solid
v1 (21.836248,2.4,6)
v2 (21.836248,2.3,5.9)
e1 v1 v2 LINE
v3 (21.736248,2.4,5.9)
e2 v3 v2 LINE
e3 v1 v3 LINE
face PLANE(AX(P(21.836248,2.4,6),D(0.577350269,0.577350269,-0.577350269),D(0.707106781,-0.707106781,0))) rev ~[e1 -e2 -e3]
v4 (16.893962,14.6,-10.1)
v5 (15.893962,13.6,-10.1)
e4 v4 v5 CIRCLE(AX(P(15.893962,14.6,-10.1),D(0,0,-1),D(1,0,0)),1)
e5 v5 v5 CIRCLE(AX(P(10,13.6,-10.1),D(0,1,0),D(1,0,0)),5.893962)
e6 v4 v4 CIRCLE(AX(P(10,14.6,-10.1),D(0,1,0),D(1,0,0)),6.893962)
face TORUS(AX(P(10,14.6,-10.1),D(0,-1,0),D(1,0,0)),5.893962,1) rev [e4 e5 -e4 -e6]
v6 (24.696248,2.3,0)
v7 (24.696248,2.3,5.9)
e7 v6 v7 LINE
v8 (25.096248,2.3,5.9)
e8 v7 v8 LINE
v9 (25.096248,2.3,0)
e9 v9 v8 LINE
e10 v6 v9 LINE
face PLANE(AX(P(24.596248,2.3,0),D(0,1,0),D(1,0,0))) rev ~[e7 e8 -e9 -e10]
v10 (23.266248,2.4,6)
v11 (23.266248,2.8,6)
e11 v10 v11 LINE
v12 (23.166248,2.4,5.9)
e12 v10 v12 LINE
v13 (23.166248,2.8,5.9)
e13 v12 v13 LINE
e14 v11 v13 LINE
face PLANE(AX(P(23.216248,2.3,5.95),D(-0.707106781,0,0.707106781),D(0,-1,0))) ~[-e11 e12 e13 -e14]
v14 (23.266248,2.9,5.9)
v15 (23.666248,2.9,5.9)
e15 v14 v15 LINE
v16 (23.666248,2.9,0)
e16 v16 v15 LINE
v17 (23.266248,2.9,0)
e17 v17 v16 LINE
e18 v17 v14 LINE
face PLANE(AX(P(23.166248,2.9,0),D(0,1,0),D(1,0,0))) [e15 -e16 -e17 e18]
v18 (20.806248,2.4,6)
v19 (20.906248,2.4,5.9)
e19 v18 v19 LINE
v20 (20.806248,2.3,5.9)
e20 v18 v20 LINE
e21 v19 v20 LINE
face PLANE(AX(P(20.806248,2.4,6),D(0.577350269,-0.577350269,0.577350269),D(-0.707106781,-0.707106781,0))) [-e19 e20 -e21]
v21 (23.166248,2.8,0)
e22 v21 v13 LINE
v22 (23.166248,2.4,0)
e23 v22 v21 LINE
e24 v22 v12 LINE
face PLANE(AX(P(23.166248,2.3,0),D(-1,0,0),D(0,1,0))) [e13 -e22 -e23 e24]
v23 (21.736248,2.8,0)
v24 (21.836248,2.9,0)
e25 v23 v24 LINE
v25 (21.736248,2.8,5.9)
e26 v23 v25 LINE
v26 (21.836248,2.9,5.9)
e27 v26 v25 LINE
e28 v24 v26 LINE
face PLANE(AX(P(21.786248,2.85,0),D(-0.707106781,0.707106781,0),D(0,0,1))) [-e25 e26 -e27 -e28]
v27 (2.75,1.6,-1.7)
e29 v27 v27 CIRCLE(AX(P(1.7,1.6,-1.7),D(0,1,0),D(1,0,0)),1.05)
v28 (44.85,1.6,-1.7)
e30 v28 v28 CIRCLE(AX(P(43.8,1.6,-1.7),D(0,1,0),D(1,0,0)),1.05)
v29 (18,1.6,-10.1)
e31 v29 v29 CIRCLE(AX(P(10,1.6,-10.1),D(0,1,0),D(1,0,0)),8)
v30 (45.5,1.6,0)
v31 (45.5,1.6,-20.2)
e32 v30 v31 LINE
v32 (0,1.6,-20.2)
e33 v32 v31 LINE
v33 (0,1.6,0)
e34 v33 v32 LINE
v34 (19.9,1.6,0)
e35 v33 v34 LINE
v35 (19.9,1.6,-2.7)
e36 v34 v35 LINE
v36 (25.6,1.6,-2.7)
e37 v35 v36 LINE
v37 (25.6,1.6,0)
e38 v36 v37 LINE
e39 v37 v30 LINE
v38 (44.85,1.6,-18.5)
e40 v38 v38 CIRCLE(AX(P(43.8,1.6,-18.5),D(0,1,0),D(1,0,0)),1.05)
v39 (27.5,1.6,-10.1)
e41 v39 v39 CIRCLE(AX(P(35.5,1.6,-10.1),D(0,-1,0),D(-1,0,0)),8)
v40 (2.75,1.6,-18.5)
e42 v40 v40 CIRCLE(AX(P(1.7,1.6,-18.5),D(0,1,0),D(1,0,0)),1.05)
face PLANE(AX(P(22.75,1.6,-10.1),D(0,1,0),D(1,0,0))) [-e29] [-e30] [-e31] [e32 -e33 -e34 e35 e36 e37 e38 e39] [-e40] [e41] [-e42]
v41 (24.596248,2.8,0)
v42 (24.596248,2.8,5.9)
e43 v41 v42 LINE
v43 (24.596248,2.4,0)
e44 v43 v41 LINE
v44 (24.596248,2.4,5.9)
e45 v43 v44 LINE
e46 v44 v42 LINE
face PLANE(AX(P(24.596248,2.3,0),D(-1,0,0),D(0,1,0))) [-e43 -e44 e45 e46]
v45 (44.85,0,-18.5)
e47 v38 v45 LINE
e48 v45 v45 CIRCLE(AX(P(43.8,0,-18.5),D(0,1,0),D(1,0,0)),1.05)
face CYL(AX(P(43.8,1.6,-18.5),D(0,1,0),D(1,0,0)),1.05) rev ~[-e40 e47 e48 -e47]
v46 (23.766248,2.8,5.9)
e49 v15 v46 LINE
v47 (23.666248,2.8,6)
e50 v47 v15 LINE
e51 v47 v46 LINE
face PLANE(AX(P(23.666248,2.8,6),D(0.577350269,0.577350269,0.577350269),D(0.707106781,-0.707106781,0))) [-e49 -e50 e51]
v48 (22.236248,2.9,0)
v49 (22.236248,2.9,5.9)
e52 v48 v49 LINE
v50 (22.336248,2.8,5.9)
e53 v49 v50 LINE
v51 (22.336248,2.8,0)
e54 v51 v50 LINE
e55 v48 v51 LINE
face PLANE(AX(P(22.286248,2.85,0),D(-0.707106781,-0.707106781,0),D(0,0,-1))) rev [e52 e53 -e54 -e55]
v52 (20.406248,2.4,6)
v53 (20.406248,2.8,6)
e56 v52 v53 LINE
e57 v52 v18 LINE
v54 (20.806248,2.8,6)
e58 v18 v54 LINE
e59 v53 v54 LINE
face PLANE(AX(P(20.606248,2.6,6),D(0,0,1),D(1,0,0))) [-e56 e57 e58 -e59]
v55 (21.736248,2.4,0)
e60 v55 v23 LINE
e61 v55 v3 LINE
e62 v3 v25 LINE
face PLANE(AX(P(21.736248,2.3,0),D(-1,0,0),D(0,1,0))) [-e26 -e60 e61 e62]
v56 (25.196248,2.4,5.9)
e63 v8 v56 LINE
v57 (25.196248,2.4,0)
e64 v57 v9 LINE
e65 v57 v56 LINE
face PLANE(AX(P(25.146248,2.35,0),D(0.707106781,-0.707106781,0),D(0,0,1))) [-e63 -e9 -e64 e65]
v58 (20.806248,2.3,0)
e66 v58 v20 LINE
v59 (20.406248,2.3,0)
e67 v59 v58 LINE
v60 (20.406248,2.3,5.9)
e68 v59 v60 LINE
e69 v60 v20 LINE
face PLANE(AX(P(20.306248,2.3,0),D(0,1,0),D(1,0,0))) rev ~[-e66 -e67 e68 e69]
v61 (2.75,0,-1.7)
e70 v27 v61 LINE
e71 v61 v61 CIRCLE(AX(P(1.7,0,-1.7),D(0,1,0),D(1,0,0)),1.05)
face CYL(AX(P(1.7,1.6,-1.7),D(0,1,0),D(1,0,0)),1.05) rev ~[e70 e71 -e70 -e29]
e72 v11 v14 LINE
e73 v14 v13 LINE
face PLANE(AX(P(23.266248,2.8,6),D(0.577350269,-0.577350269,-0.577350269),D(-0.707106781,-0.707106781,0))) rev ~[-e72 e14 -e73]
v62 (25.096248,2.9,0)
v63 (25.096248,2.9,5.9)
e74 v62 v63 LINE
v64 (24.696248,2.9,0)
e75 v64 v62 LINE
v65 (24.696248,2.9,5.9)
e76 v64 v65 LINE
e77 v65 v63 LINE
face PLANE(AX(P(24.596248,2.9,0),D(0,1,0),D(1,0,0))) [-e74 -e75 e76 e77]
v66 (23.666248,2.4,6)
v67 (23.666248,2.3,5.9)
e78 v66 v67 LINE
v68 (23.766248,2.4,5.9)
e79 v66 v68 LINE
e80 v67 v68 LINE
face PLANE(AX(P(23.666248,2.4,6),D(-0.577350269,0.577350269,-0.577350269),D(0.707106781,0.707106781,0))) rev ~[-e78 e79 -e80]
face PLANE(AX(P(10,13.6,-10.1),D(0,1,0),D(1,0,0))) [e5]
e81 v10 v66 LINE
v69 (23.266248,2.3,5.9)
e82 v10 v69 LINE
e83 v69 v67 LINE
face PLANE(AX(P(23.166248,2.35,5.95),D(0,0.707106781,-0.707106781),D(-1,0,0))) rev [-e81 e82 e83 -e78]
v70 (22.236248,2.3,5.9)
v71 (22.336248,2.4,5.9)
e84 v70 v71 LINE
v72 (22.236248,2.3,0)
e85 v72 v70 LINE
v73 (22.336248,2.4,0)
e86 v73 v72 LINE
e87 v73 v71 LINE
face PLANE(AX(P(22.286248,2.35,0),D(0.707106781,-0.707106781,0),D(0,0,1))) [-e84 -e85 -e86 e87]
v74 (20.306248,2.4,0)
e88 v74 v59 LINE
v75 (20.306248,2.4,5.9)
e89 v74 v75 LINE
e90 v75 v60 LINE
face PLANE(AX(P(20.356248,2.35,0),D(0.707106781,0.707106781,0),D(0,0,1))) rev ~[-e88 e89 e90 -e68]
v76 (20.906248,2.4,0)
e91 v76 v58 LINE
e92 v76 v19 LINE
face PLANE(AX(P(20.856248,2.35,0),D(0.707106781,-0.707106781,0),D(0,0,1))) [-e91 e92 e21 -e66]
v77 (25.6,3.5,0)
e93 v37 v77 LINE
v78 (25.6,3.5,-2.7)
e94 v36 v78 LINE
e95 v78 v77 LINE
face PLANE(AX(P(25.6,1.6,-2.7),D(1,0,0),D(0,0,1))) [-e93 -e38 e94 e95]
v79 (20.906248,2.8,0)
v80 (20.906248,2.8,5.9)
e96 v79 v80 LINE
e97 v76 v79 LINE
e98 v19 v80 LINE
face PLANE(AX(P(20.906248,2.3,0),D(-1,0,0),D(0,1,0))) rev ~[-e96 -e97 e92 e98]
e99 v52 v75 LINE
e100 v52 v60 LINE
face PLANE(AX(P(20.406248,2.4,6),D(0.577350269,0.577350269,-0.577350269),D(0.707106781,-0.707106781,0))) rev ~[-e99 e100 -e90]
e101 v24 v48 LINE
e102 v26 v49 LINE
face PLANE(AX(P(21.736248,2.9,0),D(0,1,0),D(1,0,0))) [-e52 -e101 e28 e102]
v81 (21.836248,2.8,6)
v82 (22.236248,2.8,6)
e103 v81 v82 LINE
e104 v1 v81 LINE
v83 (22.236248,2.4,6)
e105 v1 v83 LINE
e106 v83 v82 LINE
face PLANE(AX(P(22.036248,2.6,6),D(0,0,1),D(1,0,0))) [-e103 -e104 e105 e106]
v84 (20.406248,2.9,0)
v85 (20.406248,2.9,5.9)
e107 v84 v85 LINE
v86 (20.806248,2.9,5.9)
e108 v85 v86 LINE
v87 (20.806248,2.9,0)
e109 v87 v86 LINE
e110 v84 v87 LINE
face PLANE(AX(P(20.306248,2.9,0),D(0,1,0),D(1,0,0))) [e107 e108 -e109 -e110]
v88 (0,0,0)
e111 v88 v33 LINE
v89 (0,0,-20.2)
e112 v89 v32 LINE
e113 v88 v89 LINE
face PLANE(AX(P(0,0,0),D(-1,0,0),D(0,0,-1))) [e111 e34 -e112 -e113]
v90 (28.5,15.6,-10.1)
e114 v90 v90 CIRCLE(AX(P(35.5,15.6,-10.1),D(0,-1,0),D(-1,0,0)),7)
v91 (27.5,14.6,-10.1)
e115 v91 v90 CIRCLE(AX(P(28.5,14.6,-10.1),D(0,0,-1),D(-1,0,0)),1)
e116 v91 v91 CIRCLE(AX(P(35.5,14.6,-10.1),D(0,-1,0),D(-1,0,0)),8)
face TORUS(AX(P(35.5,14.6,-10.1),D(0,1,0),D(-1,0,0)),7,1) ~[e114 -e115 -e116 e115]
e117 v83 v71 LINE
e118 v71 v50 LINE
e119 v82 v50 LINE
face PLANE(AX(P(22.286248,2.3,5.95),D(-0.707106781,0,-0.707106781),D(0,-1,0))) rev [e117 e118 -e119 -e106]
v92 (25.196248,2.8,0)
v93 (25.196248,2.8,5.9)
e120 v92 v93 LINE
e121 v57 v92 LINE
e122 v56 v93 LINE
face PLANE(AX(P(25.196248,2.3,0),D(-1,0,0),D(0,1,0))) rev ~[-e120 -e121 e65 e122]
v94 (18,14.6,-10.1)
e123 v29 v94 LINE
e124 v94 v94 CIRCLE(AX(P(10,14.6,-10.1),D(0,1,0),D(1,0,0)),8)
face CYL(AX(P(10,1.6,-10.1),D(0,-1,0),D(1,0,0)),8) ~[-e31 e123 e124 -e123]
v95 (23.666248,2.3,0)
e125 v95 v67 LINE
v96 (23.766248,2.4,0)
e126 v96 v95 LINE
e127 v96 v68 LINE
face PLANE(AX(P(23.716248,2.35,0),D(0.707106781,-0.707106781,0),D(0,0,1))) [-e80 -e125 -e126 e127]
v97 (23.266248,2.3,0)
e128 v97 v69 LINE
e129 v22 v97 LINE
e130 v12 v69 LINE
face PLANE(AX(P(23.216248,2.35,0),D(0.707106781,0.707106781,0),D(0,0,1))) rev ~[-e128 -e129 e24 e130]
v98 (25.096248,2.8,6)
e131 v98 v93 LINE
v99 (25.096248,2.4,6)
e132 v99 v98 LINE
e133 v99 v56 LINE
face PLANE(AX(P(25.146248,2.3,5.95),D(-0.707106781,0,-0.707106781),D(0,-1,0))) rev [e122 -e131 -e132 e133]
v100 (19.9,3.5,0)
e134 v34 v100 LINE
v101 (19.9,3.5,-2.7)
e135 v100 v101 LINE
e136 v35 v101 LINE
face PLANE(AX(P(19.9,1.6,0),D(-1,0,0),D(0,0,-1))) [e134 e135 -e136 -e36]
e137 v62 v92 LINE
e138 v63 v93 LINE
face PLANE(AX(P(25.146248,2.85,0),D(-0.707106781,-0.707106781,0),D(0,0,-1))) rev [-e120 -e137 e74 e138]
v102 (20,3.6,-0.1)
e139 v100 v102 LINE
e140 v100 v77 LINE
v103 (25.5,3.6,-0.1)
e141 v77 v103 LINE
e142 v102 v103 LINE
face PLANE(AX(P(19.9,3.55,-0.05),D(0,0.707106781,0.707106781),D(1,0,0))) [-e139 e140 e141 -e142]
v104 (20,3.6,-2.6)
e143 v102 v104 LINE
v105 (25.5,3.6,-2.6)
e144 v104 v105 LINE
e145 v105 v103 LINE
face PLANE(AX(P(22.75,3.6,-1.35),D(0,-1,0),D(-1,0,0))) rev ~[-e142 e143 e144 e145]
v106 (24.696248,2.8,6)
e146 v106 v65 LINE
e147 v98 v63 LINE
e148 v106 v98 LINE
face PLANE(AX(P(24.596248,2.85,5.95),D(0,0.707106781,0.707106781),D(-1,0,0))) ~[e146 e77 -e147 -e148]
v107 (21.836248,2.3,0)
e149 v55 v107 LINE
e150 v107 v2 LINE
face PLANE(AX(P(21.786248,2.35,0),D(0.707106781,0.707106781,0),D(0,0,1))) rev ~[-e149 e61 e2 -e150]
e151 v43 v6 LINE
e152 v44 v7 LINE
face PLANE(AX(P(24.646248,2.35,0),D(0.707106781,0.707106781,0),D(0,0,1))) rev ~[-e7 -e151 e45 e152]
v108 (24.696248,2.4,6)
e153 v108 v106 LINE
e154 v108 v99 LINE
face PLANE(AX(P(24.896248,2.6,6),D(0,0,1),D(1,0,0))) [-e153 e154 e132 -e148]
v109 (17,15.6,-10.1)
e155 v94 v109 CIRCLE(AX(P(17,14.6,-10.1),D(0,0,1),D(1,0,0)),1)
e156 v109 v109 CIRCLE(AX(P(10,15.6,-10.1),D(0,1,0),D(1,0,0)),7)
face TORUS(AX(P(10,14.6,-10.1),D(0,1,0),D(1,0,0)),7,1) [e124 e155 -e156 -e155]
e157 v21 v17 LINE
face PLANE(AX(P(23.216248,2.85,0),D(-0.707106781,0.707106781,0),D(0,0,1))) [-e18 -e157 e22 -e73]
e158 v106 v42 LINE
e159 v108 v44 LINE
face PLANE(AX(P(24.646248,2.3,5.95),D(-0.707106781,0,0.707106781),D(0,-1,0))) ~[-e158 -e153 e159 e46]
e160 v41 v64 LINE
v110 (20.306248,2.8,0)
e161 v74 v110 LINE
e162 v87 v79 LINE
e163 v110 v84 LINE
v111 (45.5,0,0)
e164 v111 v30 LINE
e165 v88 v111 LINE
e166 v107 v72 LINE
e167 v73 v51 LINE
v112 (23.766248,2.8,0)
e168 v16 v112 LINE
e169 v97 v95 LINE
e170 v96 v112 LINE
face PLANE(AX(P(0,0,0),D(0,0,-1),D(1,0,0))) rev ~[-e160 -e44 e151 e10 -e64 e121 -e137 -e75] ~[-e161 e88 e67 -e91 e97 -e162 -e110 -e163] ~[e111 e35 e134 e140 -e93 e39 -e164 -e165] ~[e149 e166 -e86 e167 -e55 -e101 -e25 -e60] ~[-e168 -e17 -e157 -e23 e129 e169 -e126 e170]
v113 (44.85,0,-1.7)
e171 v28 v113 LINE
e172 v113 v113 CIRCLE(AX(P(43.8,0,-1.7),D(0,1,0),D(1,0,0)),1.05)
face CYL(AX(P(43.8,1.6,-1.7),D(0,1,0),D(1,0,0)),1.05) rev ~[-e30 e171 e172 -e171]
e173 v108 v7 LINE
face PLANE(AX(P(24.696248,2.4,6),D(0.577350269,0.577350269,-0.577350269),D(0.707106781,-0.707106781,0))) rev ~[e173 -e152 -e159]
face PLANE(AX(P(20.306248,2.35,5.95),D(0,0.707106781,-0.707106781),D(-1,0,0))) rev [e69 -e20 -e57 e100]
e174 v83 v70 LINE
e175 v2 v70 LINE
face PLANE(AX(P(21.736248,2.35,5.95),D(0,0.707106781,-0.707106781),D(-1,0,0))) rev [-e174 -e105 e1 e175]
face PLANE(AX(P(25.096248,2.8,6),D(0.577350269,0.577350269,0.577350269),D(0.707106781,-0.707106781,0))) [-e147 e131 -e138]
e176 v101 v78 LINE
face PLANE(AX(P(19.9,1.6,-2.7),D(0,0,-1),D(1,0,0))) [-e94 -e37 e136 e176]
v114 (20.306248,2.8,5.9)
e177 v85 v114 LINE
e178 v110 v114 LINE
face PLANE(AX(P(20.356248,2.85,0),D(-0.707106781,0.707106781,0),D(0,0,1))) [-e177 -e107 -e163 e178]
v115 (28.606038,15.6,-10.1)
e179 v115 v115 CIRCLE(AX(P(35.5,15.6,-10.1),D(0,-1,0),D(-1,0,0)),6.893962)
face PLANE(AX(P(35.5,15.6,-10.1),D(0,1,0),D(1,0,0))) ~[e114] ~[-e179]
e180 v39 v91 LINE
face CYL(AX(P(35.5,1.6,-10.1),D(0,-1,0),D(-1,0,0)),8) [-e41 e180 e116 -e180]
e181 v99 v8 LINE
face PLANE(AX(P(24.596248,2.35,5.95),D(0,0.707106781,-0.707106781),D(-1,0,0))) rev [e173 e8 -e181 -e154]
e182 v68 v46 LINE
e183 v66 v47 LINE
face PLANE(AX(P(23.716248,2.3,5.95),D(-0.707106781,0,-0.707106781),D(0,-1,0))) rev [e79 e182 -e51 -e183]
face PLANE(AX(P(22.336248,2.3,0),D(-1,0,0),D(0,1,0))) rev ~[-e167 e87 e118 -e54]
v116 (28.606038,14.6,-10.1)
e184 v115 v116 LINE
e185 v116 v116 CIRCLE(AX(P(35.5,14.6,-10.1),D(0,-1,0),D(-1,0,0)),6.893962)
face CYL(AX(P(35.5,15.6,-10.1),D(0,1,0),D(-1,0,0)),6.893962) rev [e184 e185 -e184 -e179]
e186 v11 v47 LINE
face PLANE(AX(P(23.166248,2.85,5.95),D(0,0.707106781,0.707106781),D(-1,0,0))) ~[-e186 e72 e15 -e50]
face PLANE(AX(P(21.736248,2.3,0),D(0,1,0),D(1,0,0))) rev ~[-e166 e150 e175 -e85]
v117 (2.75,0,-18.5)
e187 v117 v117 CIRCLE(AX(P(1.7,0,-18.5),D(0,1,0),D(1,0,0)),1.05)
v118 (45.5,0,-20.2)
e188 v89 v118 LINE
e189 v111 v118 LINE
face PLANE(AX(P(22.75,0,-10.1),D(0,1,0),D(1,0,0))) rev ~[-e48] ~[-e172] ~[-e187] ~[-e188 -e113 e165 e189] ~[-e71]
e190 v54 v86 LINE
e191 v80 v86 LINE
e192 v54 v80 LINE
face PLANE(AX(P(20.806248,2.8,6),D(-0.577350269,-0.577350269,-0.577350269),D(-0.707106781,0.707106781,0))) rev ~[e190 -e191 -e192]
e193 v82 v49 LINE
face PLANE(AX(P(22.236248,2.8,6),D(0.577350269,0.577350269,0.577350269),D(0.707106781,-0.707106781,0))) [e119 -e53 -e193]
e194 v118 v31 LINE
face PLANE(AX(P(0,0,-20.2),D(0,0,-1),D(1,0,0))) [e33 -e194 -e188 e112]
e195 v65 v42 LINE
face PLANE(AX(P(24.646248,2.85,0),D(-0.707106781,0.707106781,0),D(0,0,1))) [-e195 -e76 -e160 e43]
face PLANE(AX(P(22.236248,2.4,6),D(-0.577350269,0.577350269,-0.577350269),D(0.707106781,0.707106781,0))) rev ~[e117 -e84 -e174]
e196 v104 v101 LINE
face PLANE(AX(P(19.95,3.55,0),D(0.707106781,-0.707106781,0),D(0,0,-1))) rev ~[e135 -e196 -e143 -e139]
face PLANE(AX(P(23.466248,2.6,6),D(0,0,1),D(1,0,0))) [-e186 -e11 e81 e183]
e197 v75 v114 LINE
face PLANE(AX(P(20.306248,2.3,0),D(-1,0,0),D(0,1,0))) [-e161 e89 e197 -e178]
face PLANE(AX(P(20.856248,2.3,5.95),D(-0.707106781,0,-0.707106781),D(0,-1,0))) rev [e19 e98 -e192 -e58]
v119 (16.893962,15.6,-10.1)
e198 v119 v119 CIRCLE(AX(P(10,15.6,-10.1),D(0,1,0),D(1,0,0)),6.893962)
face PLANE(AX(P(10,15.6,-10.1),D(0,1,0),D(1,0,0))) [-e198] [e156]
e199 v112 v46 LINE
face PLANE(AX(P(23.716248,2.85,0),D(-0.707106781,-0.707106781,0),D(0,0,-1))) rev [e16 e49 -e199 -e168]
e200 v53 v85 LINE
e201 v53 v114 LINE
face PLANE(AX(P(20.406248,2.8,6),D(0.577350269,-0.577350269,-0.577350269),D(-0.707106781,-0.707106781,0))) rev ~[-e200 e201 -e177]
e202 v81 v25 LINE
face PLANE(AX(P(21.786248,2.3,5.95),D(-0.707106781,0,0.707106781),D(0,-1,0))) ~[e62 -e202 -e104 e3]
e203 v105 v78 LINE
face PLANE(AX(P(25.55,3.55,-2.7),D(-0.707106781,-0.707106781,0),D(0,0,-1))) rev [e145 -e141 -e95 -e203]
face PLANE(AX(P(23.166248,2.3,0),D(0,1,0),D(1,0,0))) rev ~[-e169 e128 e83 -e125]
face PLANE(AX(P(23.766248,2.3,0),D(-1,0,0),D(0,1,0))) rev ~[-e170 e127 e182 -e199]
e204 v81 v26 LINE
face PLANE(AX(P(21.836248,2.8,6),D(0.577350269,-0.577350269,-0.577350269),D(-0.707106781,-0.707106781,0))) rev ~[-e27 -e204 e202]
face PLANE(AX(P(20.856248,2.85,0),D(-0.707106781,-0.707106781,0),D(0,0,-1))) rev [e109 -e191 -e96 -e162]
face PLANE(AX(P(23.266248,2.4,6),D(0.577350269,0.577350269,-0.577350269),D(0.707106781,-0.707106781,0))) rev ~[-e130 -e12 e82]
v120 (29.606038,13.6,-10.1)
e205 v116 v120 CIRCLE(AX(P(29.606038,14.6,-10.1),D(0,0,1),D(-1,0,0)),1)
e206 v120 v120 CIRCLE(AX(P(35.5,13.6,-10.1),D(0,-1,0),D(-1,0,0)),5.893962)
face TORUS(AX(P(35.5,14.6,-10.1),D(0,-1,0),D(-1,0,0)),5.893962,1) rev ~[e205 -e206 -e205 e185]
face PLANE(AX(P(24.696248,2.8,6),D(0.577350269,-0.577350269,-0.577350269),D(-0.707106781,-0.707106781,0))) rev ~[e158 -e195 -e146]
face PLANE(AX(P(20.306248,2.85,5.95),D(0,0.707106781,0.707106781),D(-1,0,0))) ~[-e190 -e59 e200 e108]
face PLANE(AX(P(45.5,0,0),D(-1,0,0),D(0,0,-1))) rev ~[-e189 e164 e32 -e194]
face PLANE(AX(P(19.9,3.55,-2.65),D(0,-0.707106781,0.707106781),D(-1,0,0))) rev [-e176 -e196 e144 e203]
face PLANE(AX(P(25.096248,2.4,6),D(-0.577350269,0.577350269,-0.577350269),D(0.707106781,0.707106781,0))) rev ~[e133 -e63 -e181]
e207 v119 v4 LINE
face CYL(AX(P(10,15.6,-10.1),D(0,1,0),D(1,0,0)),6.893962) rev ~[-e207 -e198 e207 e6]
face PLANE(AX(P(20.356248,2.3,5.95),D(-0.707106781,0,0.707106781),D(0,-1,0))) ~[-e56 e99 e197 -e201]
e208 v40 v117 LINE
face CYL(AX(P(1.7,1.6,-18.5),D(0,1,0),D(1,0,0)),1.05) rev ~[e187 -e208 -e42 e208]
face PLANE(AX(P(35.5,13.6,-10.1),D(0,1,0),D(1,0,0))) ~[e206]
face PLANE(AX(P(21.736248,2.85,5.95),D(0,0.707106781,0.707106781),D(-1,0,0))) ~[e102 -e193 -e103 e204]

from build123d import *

# Parameters (mm, degrees)
SKETCH1_W            = 45.5
SKETCH1_H            = 20.2
BOSS_EXTRUDE1_DEPTH  = 1.6
SKETCH2_R            = 8
BOSS_EXTRUDE2_DEPTH  = 14
SKETCH3_R            = 6.893962295
CUT_EXTRUDE1_DEPTH   = 2
FILLET1_R            = 1
FILLET2_R            = 1
FILLET1_OF_MIRROR1_R = 1
FILLET2_OF_MIRROR1_R = 1
BOSS_EXTRUDE3_DEPTH  = 2
SKETCH5_W            = 0.6
SKETCH5_H            = 0.6
BOSS_EXTRUDE4_DEPTH  = 6
CHAMFER1_SIZE        = 0.1
CHAMFER2_SIZE        = 0.1
CUT_EXTRUDE2_REACH   = 53.714
SKETCH6_R            = 1.05


with BuildPart() as part:
    # Sketch1 → Boss-Extrude1 (new body)
    with BuildSketch(Plane(origin=(0, 0, 0), x_dir=(1, 0, 0), z_dir=(0, 1, 0))):
        with Locations((22.75, 10.1)):
            Rectangle(SKETCH1_W, SKETCH1_H)
    extrude(amount=BOSS_EXTRUDE1_DEPTH)

    # Sketch2 → Boss-Extrude2 (add)
    with BuildSketch(Plane(origin=(0, 1.6, 0), x_dir=(1, 0, 0), z_dir=(0, 1, 0))):
        with Locations((10, 10.1)):
            Circle(SKETCH2_R)
    boss_extrude2 = extrude(amount=BOSS_EXTRUDE2_DEPTH)

    # Sketch3 → Cut-Extrude1 (cut)
    with BuildSketch(Plane(origin=(0, 15.6, 0), x_dir=(1, 0, 0), z_dir=(0, 1, 0))):
        with Locations((10, 10.1)):
            Circle(SKETCH3_R)
    cut_extrude1 = extrude(amount=-CUT_EXTRUDE1_DEPTH, mode=Mode.SUBTRACT)

    # Fillet1
    fillet1_edges = [part.edges().sort_by_distance(p)[0] for p in [
        (2, 15.6, -10.1),
    ]]
    fillet(fillet1_edges, radius=FILLET1_R)

    # Fillet2
    fillet2_edges = [part.edges().sort_by_distance(p)[0] for p in [
        (3.106037705, 13.6, -10.1),
    ]]
    fillet(fillet2_edges, radius=FILLET2_R)

    # Mirror1: Boss-Extrude2, Cut-Extrude1 across plane
    add(boss_extrude2.mirror(Plane(origin=(22.75, 0, 0), x_dir=(0, 0, 1), z_dir=(1, 0, 0))))
    add(cut_extrude1.mirror(Plane(origin=(22.75, 0, 0), x_dir=(0, 0, 1), z_dir=(1, 0, 0))), mode=Mode.SUBTRACT)

    # Fillet1 of Mirror1
    fillet1_of_mirror1_edges = [part.edges().sort_by_distance(p)[0] for p in [
        (43.5, 15.6, -10.1),
    ]]
    fillet(fillet1_of_mirror1_edges, radius=FILLET1_OF_MIRROR1_R)

    # Fillet2 of Mirror1
    fillet2_of_mirror1_edges = [part.edges().sort_by_distance(p)[0] for p in [
        (42.393962295, 13.6, -10.1),
    ]]
    fillet(fillet2_of_mirror1_edges, radius=FILLET2_OF_MIRROR1_R)

    # Sketch4 → Boss-Extrude3 (add)
    with BuildSketch(Plane(origin=(0, 1.6, 0), x_dir=(1, 0, 0), z_dir=(0, 1, 0))):
        Polygon((22.75, 0), (19.9, 0), (19.9, 2.7), (25.6, 2.7), (25.6, 0), align=None)
    extrude(amount=BOSS_EXTRUDE3_DEPTH)

    # Sketch5 → Boss-Extrude4 (add)
    with BuildSketch(Plane.XY):
        with Locations((20.606248373, 2.6)):
            Rectangle(SKETCH5_W, SKETCH5_H)
        with Locations((22.036248373, 2.6)):
            Rectangle(SKETCH5_W, SKETCH5_H)
        with Locations((23.466248373, 2.6)):
            Rectangle(SKETCH5_W, SKETCH5_H)
        with Locations((24.896248373, 2.6)):
            Rectangle(SKETCH5_W, SKETCH5_H)
    extrude(amount=BOSS_EXTRUDE4_DEPTH)

    # Chamfer1
    chamfer1_edges = [part.edges().sort_by_distance(p)[0] for p in [
        (25.196248373, 2.6, 6),
        (25.196248373, 2.3, 3),
        (24.896248373, 2.3, 6),
        (24.596248373, 2.3, 3),
        (24.596248373, 2.6, 6),
        (25.196248373, 2.9, 3),
        (24.896248373, 2.9, 6),
        (24.596248373, 2.9, 3),
        (23.766248373, 2.6, 6),
        (23.766248373, 2.3, 3),
        (23.466248373, 2.3, 6),
        (23.166248373, 2.3, 3),
        (23.166248373, 2.6, 6),
        (23.166248373, 2.9, 3),
        (23.466248373, 2.9, 6),
        (23.766248373, 2.9, 3),
        (22.336248373, 2.6, 6),
        (22.336248373, 2.3, 3),
        (22.036248373, 2.3, 6),
        (21.736248373, 2.3, 3),
        (21.736248373, 2.6, 6),
        (22.336248373, 2.9, 3),
        (22.036248373, 2.9, 6),
        (21.736248373, 2.9, 3),
        (20.606248373, 2.3, 6),
        (20.306248373, 2.3, 3),
        (20.306248373, 2.6, 6),
        (20.306248373, 2.9, 3),
        (20.606248373, 2.9, 6),
        (20.906248373, 2.3, 3),
        (20.906248373, 2.6, 6),
        (20.906248373, 2.9, 3),
    ]]
    chamfer(chamfer1_edges, length=CHAMFER1_SIZE)

    # Chamfer2
    chamfer2_edges = [part.edges().sort_by_distance(p)[0] for p in [
        (19.9, 3.6, -1.35),
        (22.75, 3.6, -2.7),
        (25.6, 3.6, -1.35),
        (22.75, 3.6, 0),
    ]]
    chamfer(chamfer2_edges, length=CHAMFER2_SIZE)

    # Sketch6 → Cut-Extrude2 (cut, up to next)
    with BuildSketch(Plane(origin=(0, 1.6, 0), x_dir=(1, 0, 0), z_dir=(0, 1, 0)), mode=Mode.PRIVATE) as cut_extrude2_sk1:
        with Locations((1.7, 18.5)):
            Circle(SKETCH6_R)
    cut_extrude2_tool1 = extrude(cut_extrude2_sk1.sketch, amount=-CUT_EXTRUDE2_REACH, mode=Mode.PRIVATE) & part.part
    # Sketch6 → Cut-Extrude2 (cut, up to next)
    with BuildSketch(Plane(origin=(0, 1.6, 0), x_dir=(1, 0, 0), z_dir=(0, 1, 0)), mode=Mode.PRIVATE) as cut_extrude2_sk2:
        with Locations((1.7, 1.7)):
            Circle(SKETCH6_R)
    cut_extrude2_tool2 = extrude(cut_extrude2_sk2.sketch, amount=-CUT_EXTRUDE2_REACH, mode=Mode.PRIVATE) & part.part
    # Sketch6 → Cut-Extrude2 (cut, up to next)
    with BuildSketch(Plane(origin=(0, 1.6, 0), x_dir=(1, 0, 0), z_dir=(0, 1, 0)), mode=Mode.PRIVATE) as cut_extrude2_sk3:
        with Locations((43.8, 1.7)):
            Circle(SKETCH6_R)
    cut_extrude2_tool3 = extrude(cut_extrude2_sk3.sketch, amount=-CUT_EXTRUDE2_REACH, mode=Mode.PRIVATE) & part.part
    # Sketch6 → Cut-Extrude2 (cut, up to next)
    with BuildSketch(Plane(origin=(0, 1.6, 0), x_dir=(1, 0, 0), z_dir=(0, 1, 0)), mode=Mode.PRIVATE) as cut_extrude2_sk4:
        with Locations((43.8, 18.5)):
            Circle(SKETCH6_R)
    cut_extrude2_tool4 = extrude(cut_extrude2_sk4.sketch, amount=-CUT_EXTRUDE2_REACH, mode=Mode.PRIVATE) & part.part
    add(cut_extrude2_tool1.solids().sort_by_distance((1.7, 1.6, -18.5))[0], mode=Mode.SUBTRACT)
    add(cut_extrude2_tool2.solids().sort_by_distance((1.7, 1.6, -1.7))[0], mode=Mode.SUBTRACT)
    add(cut_extrude2_tool3.solids().sort_by_distance((43.8, 1.6, -1.7))[0], mode=Mode.SUBTRACT)
    add(cut_extrude2_tool4.solids().sort_by_distance((43.8, 1.6, -18.5))[0], mode=Mode.SUBTRACT)


solid = part.part
